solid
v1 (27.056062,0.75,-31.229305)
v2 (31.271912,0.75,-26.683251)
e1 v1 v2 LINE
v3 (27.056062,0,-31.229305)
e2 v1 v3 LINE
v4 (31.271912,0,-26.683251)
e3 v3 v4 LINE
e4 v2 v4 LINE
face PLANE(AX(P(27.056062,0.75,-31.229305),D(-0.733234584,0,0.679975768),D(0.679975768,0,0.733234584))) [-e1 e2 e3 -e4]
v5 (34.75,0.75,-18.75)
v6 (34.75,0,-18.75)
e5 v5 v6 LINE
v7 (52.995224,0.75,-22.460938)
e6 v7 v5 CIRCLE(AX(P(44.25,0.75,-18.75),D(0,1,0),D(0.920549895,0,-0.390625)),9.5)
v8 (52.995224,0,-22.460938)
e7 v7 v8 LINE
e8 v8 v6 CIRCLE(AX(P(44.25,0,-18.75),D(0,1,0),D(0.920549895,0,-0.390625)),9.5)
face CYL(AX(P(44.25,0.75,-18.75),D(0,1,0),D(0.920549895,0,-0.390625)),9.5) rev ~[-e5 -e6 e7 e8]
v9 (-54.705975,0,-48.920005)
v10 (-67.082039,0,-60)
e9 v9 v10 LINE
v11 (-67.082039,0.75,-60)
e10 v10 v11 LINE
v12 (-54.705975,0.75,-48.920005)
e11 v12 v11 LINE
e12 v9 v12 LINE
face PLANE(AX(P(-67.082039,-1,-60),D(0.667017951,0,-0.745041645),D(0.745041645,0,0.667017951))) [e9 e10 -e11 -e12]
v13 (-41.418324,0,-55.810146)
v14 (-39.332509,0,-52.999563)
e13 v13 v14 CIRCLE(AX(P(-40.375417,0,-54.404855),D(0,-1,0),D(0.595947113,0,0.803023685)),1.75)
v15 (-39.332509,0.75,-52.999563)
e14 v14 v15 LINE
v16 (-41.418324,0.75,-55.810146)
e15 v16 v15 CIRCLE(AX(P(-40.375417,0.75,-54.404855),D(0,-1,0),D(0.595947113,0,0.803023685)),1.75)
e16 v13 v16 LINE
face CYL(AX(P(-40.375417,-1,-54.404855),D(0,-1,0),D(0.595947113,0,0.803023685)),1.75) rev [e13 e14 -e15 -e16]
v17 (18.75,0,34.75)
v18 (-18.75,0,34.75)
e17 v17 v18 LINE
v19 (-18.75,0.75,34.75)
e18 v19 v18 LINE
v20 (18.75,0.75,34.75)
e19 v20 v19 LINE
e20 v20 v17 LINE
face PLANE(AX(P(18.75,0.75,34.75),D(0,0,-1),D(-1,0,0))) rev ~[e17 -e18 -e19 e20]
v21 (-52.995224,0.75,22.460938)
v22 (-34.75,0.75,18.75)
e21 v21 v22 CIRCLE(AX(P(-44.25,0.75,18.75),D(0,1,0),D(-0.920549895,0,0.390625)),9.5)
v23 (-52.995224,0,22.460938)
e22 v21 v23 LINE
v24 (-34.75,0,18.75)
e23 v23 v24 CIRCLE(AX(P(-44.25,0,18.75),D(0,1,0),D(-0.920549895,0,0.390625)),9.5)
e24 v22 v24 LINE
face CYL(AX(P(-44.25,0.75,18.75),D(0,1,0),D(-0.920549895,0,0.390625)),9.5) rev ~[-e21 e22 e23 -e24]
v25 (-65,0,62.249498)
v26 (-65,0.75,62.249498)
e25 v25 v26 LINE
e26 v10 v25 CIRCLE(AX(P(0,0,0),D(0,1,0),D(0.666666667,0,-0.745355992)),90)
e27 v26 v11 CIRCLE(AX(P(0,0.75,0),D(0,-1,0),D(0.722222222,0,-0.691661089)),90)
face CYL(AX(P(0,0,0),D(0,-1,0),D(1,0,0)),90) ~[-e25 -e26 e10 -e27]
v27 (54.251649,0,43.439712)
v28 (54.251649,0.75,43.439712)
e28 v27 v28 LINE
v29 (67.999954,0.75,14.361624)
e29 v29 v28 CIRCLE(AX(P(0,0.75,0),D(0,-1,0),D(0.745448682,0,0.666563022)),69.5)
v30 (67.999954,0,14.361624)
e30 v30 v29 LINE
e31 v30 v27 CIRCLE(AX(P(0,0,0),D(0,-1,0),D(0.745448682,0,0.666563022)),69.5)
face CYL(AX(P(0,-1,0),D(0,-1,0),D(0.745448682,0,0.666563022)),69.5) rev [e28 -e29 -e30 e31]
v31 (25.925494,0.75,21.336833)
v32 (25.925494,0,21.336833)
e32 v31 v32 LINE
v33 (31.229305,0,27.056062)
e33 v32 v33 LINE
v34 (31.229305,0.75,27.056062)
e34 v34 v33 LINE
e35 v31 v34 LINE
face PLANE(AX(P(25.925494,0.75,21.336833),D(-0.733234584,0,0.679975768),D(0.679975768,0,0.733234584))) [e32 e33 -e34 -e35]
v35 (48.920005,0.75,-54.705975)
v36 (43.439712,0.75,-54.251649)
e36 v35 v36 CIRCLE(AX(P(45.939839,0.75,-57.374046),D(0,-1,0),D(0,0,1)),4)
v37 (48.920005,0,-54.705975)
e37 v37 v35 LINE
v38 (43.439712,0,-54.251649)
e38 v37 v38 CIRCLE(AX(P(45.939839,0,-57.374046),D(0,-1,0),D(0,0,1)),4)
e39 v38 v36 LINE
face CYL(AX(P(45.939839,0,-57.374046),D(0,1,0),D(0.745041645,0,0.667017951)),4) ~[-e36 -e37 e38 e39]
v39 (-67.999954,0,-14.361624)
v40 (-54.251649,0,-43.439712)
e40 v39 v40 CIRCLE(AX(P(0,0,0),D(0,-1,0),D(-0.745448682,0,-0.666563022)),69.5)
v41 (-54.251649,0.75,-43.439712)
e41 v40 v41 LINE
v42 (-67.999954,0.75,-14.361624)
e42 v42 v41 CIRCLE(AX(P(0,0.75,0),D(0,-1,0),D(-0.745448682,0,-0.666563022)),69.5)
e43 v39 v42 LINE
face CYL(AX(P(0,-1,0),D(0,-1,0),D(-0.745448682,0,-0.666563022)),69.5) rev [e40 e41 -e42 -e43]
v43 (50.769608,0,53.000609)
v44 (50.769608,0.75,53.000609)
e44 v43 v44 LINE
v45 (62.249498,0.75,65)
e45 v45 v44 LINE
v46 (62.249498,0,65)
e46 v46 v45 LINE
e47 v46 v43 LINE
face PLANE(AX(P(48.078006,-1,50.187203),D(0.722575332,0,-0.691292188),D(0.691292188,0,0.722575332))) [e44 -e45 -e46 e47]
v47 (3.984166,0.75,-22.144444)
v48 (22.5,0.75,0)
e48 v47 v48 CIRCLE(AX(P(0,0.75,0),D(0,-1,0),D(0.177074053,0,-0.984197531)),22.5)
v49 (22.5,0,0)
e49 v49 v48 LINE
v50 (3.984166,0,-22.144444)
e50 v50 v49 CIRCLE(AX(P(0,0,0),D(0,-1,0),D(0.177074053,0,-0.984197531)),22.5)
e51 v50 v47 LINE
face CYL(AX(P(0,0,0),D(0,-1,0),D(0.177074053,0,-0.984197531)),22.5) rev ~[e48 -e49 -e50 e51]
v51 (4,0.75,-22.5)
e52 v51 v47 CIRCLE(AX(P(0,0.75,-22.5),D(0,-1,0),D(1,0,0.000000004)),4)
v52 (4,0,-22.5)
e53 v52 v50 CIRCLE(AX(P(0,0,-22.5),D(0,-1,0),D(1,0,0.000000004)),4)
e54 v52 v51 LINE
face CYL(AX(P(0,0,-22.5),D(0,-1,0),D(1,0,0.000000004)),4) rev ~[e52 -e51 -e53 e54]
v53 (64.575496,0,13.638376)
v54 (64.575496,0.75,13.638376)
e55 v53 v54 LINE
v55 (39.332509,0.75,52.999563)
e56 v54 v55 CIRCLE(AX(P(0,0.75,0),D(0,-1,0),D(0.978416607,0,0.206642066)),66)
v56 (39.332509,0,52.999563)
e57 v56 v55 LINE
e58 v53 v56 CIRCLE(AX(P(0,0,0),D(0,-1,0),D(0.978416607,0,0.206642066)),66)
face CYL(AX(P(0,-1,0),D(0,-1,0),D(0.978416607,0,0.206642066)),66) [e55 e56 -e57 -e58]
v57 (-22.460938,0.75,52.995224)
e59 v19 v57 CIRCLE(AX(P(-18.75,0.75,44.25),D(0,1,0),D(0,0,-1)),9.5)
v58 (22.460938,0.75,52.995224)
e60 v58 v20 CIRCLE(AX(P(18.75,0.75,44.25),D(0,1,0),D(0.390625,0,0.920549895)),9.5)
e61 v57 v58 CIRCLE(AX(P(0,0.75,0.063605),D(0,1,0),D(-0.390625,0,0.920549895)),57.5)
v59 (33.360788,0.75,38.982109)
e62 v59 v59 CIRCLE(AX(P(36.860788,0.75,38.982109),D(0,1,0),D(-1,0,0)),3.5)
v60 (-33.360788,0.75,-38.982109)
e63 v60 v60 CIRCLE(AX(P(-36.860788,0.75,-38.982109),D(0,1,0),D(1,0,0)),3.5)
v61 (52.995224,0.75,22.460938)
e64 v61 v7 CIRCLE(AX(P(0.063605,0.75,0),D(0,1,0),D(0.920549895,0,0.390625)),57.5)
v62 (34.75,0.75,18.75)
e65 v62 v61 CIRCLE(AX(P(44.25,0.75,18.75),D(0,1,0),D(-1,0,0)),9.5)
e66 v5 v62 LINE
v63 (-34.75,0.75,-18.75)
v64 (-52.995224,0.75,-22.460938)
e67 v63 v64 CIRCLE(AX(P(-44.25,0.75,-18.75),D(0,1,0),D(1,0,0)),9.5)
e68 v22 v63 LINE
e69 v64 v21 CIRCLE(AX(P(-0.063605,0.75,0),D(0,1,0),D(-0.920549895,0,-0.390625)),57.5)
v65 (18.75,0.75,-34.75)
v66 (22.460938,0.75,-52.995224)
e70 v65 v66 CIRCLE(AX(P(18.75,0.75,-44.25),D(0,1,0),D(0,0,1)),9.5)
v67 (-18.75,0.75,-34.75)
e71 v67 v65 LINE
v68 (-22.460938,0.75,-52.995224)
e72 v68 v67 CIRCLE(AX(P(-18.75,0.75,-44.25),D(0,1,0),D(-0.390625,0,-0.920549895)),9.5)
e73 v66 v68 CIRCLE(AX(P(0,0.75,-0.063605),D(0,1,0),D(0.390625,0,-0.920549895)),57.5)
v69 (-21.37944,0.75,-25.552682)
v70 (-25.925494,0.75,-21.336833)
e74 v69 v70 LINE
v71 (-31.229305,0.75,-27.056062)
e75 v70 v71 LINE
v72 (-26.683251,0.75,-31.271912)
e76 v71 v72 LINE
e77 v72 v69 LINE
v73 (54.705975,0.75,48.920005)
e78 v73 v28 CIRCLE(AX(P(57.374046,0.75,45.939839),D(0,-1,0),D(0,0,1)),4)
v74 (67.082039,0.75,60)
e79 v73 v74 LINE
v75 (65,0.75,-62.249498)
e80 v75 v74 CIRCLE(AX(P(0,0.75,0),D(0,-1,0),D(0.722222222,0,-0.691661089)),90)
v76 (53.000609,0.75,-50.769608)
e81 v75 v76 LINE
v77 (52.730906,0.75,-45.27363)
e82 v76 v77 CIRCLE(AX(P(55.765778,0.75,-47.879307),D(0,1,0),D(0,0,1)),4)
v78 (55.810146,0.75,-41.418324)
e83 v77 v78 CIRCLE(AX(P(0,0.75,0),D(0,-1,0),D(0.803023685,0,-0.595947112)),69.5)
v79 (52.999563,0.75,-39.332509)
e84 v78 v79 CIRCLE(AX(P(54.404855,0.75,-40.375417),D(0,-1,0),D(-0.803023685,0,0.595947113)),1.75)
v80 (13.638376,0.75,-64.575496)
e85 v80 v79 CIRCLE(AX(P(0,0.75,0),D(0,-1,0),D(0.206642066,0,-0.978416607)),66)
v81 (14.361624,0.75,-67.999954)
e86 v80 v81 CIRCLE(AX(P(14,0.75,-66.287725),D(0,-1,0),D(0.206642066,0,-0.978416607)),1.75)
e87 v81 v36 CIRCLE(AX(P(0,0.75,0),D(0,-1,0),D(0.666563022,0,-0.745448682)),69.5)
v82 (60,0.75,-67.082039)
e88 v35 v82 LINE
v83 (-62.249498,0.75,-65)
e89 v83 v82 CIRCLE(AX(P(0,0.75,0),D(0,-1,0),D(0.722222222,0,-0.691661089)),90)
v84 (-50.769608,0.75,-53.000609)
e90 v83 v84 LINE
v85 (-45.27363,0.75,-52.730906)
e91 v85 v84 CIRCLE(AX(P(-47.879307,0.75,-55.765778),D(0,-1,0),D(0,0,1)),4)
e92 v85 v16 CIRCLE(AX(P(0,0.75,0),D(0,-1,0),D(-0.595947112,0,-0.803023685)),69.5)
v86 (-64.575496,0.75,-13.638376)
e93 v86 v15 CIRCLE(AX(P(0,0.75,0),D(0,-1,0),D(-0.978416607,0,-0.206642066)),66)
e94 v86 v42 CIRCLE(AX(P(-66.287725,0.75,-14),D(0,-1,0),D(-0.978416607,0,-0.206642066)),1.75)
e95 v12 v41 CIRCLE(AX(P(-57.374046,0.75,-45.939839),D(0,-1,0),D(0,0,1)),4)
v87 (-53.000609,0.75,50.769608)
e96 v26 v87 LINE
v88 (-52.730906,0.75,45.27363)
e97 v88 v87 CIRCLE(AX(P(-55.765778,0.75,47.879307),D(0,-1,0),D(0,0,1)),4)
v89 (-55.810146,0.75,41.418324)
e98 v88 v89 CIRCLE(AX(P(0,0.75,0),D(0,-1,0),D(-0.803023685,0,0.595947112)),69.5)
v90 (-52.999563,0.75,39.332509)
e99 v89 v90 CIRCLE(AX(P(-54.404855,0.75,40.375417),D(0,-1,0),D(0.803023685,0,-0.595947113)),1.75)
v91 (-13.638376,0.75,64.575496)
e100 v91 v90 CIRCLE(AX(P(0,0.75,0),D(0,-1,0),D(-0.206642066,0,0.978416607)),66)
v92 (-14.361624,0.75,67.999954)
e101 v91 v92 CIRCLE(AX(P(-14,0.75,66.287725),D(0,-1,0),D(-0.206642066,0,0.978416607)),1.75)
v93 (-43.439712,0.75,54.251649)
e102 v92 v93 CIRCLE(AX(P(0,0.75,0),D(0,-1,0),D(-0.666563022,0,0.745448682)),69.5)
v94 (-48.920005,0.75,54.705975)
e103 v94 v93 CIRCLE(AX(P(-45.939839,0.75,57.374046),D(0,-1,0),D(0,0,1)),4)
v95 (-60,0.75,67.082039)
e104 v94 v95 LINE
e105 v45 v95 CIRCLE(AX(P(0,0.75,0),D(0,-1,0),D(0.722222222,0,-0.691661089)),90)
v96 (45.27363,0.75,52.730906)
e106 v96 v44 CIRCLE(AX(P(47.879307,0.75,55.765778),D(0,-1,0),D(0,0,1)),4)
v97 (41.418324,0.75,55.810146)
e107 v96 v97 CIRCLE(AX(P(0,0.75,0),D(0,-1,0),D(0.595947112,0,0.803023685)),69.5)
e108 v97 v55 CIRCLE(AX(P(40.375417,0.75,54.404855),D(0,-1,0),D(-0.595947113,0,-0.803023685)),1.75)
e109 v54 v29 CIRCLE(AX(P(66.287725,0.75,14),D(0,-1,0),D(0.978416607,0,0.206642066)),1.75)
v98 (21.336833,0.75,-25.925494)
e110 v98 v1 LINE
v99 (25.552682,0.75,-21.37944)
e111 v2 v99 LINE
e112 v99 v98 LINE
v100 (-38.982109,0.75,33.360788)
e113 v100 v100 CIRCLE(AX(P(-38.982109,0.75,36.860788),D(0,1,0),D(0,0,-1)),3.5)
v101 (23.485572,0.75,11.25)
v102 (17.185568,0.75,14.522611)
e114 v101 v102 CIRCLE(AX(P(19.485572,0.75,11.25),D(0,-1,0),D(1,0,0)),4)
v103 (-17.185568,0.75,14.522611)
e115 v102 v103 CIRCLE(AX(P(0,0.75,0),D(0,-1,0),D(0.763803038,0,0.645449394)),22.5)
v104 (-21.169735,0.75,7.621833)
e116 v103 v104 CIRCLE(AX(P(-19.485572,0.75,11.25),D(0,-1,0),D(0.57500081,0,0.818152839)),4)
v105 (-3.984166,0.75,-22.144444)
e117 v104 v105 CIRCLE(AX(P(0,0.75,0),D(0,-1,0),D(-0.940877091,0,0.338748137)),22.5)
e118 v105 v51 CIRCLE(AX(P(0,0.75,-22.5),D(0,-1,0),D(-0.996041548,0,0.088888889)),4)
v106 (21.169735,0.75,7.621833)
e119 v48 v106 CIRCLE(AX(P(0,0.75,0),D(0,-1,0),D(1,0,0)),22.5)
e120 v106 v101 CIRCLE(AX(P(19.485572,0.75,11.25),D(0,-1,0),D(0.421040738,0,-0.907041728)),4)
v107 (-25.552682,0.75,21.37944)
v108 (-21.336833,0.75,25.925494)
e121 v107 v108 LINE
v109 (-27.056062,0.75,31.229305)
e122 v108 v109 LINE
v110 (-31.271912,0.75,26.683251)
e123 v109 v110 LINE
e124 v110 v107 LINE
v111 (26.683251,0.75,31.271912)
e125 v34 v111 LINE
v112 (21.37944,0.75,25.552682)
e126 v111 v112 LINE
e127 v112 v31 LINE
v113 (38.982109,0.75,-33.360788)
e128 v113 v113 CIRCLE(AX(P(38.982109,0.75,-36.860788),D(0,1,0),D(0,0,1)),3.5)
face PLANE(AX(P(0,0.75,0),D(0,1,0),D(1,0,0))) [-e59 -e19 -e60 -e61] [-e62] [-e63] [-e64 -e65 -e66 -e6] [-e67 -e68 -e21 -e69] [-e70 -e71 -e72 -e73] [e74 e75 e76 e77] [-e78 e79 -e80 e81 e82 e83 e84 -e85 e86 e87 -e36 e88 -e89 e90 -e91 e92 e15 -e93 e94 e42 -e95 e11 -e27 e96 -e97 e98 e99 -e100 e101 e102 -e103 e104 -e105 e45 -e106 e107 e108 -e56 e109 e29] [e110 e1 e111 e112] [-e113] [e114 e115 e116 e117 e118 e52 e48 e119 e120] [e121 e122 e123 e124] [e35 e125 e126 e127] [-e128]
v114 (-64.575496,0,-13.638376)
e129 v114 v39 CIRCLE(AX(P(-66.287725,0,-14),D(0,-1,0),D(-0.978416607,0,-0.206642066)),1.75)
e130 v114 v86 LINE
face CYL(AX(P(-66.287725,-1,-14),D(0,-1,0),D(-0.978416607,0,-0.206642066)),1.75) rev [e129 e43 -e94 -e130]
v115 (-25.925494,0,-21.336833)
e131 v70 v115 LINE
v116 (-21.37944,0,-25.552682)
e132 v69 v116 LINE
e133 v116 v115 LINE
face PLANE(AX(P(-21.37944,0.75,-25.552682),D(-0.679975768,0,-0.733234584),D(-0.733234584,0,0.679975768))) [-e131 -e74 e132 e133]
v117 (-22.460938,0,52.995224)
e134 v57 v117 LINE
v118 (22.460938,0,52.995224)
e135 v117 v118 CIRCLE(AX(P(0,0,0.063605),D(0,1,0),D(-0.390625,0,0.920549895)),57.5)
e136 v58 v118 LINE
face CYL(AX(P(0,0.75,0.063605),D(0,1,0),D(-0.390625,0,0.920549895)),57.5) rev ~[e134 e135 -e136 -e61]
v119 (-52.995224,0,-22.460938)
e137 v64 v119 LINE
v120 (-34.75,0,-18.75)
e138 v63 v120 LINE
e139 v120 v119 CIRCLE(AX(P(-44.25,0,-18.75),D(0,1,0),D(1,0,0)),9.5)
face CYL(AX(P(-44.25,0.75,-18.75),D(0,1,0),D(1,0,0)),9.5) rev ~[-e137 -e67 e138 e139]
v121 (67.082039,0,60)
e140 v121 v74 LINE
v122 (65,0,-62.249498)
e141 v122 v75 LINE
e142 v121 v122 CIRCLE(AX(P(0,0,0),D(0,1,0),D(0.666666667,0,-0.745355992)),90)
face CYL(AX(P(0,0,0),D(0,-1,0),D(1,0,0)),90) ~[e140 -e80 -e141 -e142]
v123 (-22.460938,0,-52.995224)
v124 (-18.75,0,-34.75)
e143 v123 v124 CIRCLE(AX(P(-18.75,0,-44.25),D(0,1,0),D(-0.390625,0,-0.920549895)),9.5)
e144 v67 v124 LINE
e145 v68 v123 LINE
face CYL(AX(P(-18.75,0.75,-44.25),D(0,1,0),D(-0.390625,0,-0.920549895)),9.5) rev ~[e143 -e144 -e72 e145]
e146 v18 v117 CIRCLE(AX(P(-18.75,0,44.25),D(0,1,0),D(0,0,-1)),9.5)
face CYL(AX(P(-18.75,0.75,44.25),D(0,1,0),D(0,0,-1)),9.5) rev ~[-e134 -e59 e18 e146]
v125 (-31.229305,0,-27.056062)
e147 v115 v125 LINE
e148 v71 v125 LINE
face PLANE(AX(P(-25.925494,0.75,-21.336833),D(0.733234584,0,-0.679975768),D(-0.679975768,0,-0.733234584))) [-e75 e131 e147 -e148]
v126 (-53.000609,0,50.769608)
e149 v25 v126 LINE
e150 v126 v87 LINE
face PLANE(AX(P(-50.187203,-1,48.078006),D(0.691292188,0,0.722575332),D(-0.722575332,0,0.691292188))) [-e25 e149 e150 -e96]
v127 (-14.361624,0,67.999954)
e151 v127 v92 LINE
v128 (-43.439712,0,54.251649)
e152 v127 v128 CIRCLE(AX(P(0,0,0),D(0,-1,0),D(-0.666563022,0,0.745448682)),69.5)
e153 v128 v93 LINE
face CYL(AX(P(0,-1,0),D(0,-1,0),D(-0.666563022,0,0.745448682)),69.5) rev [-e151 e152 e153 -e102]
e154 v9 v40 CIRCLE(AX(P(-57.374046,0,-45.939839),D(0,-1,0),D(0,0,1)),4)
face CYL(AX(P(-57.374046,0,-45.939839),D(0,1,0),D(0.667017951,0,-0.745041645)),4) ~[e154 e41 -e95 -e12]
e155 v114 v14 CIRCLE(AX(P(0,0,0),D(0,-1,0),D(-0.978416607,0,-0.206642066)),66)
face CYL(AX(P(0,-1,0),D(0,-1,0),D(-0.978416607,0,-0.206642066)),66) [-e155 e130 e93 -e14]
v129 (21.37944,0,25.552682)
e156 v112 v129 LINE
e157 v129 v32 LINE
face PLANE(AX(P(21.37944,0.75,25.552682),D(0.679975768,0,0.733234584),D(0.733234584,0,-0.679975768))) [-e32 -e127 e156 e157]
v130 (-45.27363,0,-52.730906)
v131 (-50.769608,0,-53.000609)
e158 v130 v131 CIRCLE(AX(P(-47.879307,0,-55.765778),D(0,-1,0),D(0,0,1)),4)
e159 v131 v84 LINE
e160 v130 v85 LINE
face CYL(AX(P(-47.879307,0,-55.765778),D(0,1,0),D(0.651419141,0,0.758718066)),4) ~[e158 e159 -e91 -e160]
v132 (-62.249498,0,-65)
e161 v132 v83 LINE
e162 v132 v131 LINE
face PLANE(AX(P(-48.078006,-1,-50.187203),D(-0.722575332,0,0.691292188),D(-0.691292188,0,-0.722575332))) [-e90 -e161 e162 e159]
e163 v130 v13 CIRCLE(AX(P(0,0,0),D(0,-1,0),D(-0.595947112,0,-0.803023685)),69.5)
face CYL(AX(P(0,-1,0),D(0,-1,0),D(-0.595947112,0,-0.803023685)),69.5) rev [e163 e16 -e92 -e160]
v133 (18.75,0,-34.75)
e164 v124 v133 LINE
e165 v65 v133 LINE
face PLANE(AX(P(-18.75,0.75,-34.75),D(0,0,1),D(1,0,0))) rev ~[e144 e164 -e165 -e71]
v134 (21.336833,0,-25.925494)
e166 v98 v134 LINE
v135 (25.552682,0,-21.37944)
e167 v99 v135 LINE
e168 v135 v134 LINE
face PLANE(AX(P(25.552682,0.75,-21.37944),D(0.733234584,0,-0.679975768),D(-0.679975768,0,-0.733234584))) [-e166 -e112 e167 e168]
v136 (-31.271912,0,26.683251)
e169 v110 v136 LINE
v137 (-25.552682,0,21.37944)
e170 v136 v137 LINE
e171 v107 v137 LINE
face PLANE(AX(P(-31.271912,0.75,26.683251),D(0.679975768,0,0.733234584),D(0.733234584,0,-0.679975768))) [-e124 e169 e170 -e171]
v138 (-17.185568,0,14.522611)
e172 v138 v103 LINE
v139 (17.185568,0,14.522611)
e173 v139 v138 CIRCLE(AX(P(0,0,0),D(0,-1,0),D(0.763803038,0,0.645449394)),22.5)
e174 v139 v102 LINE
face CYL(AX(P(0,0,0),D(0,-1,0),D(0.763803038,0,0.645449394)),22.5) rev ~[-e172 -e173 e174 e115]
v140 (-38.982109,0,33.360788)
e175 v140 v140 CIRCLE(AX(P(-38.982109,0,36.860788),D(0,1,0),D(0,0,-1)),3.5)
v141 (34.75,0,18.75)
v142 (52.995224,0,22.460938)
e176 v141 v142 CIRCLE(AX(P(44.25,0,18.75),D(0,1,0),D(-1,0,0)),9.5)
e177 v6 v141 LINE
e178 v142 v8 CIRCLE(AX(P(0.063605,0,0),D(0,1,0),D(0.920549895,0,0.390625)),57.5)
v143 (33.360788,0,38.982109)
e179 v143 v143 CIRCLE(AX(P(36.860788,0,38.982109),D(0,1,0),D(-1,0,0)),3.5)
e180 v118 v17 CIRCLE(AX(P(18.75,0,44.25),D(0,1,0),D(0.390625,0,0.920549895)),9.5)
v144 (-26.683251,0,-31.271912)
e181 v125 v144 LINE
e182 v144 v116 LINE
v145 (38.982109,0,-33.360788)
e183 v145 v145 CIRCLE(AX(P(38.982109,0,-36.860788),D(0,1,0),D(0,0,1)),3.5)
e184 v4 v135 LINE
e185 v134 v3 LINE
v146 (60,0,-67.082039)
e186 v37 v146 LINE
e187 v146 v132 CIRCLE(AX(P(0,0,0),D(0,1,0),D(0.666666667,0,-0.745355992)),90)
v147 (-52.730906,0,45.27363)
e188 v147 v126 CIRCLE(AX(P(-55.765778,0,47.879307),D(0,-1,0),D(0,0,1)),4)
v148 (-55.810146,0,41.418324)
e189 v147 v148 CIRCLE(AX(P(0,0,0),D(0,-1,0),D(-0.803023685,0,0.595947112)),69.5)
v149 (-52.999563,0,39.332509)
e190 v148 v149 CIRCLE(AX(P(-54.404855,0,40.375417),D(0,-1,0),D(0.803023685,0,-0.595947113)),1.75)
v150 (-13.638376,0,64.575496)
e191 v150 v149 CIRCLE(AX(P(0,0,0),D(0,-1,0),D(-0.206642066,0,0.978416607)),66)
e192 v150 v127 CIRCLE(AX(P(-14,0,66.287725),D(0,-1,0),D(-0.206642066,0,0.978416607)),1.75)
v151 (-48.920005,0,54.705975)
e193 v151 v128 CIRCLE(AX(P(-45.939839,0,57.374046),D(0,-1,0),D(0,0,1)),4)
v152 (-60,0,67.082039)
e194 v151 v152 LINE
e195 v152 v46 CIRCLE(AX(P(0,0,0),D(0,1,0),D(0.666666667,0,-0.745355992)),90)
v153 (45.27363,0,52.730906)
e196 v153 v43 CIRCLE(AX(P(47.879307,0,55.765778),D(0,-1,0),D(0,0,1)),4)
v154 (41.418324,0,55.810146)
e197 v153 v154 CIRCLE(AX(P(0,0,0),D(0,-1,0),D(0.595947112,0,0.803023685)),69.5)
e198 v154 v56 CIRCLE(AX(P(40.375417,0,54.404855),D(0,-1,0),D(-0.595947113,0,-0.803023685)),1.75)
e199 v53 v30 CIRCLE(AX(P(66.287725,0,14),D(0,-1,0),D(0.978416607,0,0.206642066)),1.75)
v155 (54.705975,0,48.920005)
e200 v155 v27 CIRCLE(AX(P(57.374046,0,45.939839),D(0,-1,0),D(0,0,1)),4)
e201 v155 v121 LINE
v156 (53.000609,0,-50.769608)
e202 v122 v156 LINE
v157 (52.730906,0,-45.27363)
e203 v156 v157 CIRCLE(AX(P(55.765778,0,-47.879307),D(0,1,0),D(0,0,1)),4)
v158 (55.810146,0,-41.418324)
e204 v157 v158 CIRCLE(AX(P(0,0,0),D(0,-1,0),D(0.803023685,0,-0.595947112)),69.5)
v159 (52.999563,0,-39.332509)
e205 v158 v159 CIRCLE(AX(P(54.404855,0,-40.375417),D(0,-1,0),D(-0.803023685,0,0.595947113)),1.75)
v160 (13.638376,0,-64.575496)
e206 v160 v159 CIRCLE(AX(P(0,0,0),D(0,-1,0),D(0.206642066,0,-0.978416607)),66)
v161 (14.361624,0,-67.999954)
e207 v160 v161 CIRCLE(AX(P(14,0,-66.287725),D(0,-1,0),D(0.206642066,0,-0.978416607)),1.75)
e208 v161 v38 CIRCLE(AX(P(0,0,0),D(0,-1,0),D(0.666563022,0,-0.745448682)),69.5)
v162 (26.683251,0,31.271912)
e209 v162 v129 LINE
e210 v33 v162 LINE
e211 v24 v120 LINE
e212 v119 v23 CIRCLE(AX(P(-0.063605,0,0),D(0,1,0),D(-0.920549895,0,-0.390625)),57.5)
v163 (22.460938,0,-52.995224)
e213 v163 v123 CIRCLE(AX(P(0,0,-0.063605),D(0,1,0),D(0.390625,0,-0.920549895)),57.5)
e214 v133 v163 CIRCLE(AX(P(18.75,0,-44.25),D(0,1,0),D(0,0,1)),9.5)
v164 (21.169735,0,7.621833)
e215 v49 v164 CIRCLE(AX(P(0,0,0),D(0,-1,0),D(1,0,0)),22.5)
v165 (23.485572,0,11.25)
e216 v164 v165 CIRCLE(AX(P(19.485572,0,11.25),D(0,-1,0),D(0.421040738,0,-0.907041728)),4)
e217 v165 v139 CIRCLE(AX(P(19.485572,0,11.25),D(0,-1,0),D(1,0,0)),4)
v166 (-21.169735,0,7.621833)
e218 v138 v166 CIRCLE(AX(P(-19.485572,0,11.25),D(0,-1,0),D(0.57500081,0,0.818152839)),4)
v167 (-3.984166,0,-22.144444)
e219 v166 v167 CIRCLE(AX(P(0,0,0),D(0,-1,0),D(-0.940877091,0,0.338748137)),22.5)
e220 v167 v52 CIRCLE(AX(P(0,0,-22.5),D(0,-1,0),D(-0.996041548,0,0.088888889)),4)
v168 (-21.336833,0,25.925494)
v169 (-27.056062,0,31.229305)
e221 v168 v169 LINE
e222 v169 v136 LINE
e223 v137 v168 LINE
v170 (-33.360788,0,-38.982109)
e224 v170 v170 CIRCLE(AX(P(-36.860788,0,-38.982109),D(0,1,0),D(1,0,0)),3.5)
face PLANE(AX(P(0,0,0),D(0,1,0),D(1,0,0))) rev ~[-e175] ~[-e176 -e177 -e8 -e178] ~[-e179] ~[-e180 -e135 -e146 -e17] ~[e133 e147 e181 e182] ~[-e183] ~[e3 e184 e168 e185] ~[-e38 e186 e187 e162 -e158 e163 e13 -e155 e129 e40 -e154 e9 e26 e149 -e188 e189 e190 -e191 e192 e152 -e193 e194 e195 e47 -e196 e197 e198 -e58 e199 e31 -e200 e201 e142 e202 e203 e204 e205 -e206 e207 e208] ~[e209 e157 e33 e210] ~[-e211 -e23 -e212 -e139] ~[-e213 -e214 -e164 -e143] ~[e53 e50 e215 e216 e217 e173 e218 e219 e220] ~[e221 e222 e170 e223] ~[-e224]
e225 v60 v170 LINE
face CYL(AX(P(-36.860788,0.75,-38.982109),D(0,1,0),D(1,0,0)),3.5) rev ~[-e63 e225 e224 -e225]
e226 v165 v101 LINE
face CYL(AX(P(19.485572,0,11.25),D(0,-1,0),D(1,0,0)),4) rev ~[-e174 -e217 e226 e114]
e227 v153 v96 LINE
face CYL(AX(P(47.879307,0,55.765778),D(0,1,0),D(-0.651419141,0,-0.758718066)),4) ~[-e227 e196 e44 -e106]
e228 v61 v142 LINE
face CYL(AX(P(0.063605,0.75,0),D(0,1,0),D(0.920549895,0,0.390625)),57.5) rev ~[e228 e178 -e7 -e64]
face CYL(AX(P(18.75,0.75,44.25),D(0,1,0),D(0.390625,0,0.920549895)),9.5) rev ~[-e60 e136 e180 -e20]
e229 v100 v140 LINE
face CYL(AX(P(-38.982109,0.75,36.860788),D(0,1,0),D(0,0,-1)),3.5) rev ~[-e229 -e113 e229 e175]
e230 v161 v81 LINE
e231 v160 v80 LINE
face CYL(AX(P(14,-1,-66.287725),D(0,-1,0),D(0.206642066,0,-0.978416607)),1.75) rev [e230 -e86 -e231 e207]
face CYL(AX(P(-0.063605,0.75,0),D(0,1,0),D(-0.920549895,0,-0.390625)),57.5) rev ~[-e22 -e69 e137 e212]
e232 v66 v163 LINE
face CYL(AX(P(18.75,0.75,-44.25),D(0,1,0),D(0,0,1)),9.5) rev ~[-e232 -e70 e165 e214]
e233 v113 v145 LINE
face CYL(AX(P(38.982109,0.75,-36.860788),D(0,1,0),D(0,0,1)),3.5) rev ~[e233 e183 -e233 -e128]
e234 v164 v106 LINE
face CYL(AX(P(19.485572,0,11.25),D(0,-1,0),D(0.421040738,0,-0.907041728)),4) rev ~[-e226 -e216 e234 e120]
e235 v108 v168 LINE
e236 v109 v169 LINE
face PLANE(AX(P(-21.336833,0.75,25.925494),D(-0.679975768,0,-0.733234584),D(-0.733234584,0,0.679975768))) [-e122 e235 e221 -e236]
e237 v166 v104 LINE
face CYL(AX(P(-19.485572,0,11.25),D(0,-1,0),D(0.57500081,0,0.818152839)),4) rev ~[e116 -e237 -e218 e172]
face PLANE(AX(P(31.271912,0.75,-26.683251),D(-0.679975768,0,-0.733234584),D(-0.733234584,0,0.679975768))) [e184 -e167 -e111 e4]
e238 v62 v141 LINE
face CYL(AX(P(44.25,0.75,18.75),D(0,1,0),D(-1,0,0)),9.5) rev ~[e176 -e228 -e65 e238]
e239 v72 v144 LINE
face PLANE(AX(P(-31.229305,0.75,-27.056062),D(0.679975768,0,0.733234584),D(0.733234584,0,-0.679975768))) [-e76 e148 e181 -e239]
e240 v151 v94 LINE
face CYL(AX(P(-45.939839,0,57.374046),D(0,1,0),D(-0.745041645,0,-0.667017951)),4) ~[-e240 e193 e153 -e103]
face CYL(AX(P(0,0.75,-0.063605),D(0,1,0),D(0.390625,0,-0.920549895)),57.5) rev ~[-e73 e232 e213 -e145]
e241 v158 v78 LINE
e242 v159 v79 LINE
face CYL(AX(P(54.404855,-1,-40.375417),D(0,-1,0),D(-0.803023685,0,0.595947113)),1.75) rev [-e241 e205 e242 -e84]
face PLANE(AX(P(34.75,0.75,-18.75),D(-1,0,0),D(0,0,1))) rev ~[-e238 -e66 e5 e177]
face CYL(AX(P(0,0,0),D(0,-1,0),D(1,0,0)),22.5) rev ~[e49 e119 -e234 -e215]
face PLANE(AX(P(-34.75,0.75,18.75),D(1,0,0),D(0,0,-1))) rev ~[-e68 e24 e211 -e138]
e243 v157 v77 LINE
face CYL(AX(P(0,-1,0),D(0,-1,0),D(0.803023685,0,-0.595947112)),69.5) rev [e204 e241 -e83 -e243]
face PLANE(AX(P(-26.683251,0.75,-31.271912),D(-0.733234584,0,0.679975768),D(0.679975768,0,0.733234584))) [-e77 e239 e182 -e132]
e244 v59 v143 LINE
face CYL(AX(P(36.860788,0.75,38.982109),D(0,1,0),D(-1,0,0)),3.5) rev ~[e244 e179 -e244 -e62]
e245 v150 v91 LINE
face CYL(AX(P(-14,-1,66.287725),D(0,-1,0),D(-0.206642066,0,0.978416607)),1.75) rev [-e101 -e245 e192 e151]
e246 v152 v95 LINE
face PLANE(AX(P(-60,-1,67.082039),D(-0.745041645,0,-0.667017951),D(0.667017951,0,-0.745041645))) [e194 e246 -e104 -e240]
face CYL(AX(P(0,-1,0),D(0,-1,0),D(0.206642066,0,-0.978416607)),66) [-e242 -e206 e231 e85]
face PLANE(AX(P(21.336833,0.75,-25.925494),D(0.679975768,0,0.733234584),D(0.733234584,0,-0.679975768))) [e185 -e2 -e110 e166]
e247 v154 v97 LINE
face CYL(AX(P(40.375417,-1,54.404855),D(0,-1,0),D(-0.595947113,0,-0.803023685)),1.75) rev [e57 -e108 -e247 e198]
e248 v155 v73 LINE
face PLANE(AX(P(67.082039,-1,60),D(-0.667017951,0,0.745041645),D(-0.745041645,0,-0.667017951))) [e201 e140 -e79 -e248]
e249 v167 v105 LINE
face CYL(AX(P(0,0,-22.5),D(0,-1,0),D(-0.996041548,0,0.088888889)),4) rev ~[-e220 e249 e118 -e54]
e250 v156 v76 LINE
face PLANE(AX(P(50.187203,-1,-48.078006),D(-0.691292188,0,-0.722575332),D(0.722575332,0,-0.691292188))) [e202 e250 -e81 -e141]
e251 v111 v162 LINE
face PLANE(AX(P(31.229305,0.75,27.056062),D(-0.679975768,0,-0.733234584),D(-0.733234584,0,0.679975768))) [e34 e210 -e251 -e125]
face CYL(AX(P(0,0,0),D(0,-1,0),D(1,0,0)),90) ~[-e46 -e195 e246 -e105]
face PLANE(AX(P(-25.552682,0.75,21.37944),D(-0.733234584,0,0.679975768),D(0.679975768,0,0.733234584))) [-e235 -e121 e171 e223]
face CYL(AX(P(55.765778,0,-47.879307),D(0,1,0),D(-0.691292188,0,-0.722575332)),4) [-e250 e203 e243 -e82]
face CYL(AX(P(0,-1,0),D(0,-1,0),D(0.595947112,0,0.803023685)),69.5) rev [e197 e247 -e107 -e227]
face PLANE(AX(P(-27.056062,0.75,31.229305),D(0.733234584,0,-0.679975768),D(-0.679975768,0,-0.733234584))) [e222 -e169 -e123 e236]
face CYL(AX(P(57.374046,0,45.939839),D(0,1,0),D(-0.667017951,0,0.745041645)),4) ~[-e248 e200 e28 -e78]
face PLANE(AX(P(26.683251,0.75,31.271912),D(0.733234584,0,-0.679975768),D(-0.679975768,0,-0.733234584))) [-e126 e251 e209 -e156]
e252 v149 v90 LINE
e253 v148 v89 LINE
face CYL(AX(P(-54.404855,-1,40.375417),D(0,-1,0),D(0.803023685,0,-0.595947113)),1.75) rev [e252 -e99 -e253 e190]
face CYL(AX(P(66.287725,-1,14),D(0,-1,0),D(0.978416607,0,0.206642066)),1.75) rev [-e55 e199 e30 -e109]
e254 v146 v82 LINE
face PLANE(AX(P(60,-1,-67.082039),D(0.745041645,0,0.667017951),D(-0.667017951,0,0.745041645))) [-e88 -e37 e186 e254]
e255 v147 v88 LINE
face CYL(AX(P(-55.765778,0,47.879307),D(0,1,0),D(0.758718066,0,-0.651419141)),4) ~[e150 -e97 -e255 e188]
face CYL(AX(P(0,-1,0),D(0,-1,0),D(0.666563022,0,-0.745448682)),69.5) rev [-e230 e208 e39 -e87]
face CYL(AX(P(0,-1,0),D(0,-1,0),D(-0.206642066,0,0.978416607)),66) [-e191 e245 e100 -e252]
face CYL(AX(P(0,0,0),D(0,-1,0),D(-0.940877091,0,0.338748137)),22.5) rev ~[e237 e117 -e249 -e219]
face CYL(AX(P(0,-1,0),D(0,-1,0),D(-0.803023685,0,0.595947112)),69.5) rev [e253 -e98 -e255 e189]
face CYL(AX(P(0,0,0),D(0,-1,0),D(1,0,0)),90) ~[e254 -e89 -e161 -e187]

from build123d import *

# Parameters (mm, degrees)
SKETCH2_R                = 90
BOSS_EXTRUDE1_DEPTH      = 0.75
CUT_EXTRUDE2_DEPTH       = 0.75
CUT_EXTRUDE6_START       = -1.75
CUT_EXTRUDE6_DEPTH       = 2.5
CUT_EXTRUDE7_DEPTH       = 0.75
FILLET1_R                = 4
CIRPATTERN1_COUNT        = 4
CIRPATTERN2_COUNT        = 4
FILLET1_OF_CIRPATTERN2_R = 4
SKETCH9_R                = 3.5
CUT_EXTRUDE8_DEPTH       = 0.75
CIRPATTERN3_COUNT        = 4


with BuildPart() as part:
    # Sketch2 → Boss-Extrude1 (new body)
    with BuildSketch(Plane(origin=(0, 0, 0), x_dir=(1, 0, 0), z_dir=(0, 1, 0))):
        Circle(SKETCH2_R)
        with BuildLine():
            ThreePointArc((21.169734538, -7.621833087), (22.857266397, -9.097867547), (23.485571585, -11.25))
            ThreePointArc((23.485571585, -11.25), (21.32947872, -14.799648783), (17.185568345, -14.522611358))
            ThreePointArc((17.185568345, -14.522611358), (0, -22.5), (-17.185568345, -14.522611358))
            ThreePointArc((-17.185568345, -14.522611358), (-22.9496732, -13.25), (-21.169734538, -7.621833087))
            ThreePointArc((-21.169734538, -7.621833087), (-19.485571585, 11.25), (-3.984166192, 22.144444444))
            ThreePointArc((-3.984166192, 22.144444444), (-0.177953971, 26.496039587), (4, 22.5))
            ThreePointArc((4, 22.5), (3.996039587, 22.322046029), (3.984166192, 22.144444444))
            ThreePointArc((3.984166192, 22.144444444), (17.261137554, 14.432710429), (22.5, 0))
            ThreePointArc((22.5, 0), (22.164938835, -3.8685251), (21.169734538, -7.621833087))
        make_face(mode=Mode.SUBTRACT)
    extrude(amount=BOSS_EXTRUDE1_DEPTH)

    # Sketch4 → Cut-Extrude2 (cut)
    with BuildSketch(Plane(origin=(0, 0.75, 0), x_dir=(1, 0, 0), z_dir=(0, 1, 0))):
        with BuildLine():
            Line((-18.75, 34.75), (18.75, 34.75))
            ThreePointArc((18.75, 34.75), (28.059393859, 42.356541264), (22.4609375, 52.995224003))
            ThreePointArc((22.4609375, 52.995224003), (0, 57.563605035), (-22.4609375, 52.995224003))
            ThreePointArc((-22.4609375, 52.995224003), (-28.059393859, 42.356541264), (-18.75, 34.75))
        make_face()
    cut_extrude2 = extrude(amount=-CUT_EXTRUDE2_DEPTH, mode=Mode.SUBTRACT)

    # Sketch7 → Cut-Extrude6 (cut)
    with BuildSketch(Plane(origin=(0, 0.75, 0), x_dir=(1, 0, 0), z_dir=(0, 1, 0)).offset(CUT_EXTRUDE6_START)):
        with BuildLine():
            Line((50.187203194, 48.078005736), (65, 62.24949799))
            ThreePointArc((65, 62.24949799), (62.546689472, 64.714076027), (60, 67.082039325))
            Line((60, 67.082039325), (46.326130039, 51.8086834))
            ThreePointArc((46.326130039, 51.8086834), (31.405257095, 61.999676022), (14.361623616, 67.99995417))
            ThreePointArc((14.361623616, 67.99995417), (12.287770938, 66.649348724), (13.638376384, 64.575496046))
            ThreePointArc((13.638376384, 64.575496046), (35.62942383, 55.556675185), (52.99956323, 39.332509421))
            ThreePointArc((52.99956323, 39.332509421), (55.447762126, 38.970125419), (55.810146129, 41.418324315))
            ThreePointArc((55.810146129, 41.418324315), (53.103176506, 44.836398662), (50.187203194, 48.078005736))
        make_face()
    cut_extrude6 = extrude(amount=CUT_EXTRUDE6_DEPTH, mode=Mode.SUBTRACT)

    # Sketch8 → Cut-Extrude7 (cut)
    with BuildSketch(Plane(origin=(0, 0.75, 0), x_dir=(1, 0, 0), z_dir=(0, 1, 0))):
        Polygon((-25.925493975, 21.336832502), (-31.229304965, 27.056062257), (-26.683250545, 31.271912018), (-21.379439555, 25.552682263), align=None)
    cut_extrude7 = extrude(amount=-CUT_EXTRUDE7_DEPTH, mode=Mode.SUBTRACT)

    # Fillet1
    fillet1_edges = [part.edges().sort_by_distance(p)[0] for p in [
        (50.187203194, 0.375, -48.078005736),
        (46.326130039, 0.375, -51.8086834),
    ]]
    fillet(fillet1_edges, radius=FILLET1_R)

    # CirPattern1: Cut-Extrude2, Cut-Extrude7 ×4 about axis
    cirpattern1_axis = Axis((0, 0, 0), (0, 1, 0))
    for i in range(1, CIRPATTERN1_COUNT):
        add(cut_extrude2.rotate(cirpattern1_axis, i * 360 / CIRPATTERN1_COUNT), mode=Mode.SUBTRACT)
        add(cut_extrude7.rotate(cirpattern1_axis, i * 360 / CIRPATTERN1_COUNT), mode=Mode.SUBTRACT)

    # CirPattern2: Cut-Extrude6 ×4 about axis
    cirpattern2_axis = Axis((0, 0, 0), (0, 1, 0))
    for i in range(1, CIRPATTERN2_COUNT):
        add(cut_extrude6.rotate(cirpattern2_axis, i * 360 / CIRPATTERN2_COUNT), mode=Mode.SUBTRACT)

    # Fillet1 of CirPattern2
    fillet1_of_cirpattern2_edges = [part.edges().sort_by_distance(p)[0] for p in [
        (-48.078005736, 0.375, -50.187203194),
        (-51.8086834, 0.375, -46.326130039),
        (-50.187203194, 0.375, 48.078005736),
        (-46.326130039, 0.375, 51.8086834),
        (48.078005736, 0.375, 50.187203194),
        (51.8086834, 0.375, 46.326130039),
    ]]
    fillet(fillet1_of_cirpattern2_edges, radius=FILLET1_OF_CIRPATTERN2_R)

    # Sketch9 → Cut-Extrude8 (cut)
    with BuildSketch(Plane(origin=(0, 0.75, 0), x_dir=(1, 0, 0), z_dir=(0, 1, 0))):
        with Locations((-36.860788245, 38.982108588)):
            Circle(SKETCH9_R)
    cut_extrude8 = extrude(amount=-CUT_EXTRUDE8_DEPTH, mode=Mode.SUBTRACT)

    # CirPattern3: Cut-Extrude8 ×4 about axis
    cirpattern3_axis = Axis((0, 0, 0), (0, 1, 0))
    for i in range(1, CIRPATTERN3_COUNT):
        add(cut_extrude8.rotate(cirpattern3_axis, i * 360 / CIRPATTERN3_COUNT), mode=Mode.SUBTRACT)


solid = part.part
